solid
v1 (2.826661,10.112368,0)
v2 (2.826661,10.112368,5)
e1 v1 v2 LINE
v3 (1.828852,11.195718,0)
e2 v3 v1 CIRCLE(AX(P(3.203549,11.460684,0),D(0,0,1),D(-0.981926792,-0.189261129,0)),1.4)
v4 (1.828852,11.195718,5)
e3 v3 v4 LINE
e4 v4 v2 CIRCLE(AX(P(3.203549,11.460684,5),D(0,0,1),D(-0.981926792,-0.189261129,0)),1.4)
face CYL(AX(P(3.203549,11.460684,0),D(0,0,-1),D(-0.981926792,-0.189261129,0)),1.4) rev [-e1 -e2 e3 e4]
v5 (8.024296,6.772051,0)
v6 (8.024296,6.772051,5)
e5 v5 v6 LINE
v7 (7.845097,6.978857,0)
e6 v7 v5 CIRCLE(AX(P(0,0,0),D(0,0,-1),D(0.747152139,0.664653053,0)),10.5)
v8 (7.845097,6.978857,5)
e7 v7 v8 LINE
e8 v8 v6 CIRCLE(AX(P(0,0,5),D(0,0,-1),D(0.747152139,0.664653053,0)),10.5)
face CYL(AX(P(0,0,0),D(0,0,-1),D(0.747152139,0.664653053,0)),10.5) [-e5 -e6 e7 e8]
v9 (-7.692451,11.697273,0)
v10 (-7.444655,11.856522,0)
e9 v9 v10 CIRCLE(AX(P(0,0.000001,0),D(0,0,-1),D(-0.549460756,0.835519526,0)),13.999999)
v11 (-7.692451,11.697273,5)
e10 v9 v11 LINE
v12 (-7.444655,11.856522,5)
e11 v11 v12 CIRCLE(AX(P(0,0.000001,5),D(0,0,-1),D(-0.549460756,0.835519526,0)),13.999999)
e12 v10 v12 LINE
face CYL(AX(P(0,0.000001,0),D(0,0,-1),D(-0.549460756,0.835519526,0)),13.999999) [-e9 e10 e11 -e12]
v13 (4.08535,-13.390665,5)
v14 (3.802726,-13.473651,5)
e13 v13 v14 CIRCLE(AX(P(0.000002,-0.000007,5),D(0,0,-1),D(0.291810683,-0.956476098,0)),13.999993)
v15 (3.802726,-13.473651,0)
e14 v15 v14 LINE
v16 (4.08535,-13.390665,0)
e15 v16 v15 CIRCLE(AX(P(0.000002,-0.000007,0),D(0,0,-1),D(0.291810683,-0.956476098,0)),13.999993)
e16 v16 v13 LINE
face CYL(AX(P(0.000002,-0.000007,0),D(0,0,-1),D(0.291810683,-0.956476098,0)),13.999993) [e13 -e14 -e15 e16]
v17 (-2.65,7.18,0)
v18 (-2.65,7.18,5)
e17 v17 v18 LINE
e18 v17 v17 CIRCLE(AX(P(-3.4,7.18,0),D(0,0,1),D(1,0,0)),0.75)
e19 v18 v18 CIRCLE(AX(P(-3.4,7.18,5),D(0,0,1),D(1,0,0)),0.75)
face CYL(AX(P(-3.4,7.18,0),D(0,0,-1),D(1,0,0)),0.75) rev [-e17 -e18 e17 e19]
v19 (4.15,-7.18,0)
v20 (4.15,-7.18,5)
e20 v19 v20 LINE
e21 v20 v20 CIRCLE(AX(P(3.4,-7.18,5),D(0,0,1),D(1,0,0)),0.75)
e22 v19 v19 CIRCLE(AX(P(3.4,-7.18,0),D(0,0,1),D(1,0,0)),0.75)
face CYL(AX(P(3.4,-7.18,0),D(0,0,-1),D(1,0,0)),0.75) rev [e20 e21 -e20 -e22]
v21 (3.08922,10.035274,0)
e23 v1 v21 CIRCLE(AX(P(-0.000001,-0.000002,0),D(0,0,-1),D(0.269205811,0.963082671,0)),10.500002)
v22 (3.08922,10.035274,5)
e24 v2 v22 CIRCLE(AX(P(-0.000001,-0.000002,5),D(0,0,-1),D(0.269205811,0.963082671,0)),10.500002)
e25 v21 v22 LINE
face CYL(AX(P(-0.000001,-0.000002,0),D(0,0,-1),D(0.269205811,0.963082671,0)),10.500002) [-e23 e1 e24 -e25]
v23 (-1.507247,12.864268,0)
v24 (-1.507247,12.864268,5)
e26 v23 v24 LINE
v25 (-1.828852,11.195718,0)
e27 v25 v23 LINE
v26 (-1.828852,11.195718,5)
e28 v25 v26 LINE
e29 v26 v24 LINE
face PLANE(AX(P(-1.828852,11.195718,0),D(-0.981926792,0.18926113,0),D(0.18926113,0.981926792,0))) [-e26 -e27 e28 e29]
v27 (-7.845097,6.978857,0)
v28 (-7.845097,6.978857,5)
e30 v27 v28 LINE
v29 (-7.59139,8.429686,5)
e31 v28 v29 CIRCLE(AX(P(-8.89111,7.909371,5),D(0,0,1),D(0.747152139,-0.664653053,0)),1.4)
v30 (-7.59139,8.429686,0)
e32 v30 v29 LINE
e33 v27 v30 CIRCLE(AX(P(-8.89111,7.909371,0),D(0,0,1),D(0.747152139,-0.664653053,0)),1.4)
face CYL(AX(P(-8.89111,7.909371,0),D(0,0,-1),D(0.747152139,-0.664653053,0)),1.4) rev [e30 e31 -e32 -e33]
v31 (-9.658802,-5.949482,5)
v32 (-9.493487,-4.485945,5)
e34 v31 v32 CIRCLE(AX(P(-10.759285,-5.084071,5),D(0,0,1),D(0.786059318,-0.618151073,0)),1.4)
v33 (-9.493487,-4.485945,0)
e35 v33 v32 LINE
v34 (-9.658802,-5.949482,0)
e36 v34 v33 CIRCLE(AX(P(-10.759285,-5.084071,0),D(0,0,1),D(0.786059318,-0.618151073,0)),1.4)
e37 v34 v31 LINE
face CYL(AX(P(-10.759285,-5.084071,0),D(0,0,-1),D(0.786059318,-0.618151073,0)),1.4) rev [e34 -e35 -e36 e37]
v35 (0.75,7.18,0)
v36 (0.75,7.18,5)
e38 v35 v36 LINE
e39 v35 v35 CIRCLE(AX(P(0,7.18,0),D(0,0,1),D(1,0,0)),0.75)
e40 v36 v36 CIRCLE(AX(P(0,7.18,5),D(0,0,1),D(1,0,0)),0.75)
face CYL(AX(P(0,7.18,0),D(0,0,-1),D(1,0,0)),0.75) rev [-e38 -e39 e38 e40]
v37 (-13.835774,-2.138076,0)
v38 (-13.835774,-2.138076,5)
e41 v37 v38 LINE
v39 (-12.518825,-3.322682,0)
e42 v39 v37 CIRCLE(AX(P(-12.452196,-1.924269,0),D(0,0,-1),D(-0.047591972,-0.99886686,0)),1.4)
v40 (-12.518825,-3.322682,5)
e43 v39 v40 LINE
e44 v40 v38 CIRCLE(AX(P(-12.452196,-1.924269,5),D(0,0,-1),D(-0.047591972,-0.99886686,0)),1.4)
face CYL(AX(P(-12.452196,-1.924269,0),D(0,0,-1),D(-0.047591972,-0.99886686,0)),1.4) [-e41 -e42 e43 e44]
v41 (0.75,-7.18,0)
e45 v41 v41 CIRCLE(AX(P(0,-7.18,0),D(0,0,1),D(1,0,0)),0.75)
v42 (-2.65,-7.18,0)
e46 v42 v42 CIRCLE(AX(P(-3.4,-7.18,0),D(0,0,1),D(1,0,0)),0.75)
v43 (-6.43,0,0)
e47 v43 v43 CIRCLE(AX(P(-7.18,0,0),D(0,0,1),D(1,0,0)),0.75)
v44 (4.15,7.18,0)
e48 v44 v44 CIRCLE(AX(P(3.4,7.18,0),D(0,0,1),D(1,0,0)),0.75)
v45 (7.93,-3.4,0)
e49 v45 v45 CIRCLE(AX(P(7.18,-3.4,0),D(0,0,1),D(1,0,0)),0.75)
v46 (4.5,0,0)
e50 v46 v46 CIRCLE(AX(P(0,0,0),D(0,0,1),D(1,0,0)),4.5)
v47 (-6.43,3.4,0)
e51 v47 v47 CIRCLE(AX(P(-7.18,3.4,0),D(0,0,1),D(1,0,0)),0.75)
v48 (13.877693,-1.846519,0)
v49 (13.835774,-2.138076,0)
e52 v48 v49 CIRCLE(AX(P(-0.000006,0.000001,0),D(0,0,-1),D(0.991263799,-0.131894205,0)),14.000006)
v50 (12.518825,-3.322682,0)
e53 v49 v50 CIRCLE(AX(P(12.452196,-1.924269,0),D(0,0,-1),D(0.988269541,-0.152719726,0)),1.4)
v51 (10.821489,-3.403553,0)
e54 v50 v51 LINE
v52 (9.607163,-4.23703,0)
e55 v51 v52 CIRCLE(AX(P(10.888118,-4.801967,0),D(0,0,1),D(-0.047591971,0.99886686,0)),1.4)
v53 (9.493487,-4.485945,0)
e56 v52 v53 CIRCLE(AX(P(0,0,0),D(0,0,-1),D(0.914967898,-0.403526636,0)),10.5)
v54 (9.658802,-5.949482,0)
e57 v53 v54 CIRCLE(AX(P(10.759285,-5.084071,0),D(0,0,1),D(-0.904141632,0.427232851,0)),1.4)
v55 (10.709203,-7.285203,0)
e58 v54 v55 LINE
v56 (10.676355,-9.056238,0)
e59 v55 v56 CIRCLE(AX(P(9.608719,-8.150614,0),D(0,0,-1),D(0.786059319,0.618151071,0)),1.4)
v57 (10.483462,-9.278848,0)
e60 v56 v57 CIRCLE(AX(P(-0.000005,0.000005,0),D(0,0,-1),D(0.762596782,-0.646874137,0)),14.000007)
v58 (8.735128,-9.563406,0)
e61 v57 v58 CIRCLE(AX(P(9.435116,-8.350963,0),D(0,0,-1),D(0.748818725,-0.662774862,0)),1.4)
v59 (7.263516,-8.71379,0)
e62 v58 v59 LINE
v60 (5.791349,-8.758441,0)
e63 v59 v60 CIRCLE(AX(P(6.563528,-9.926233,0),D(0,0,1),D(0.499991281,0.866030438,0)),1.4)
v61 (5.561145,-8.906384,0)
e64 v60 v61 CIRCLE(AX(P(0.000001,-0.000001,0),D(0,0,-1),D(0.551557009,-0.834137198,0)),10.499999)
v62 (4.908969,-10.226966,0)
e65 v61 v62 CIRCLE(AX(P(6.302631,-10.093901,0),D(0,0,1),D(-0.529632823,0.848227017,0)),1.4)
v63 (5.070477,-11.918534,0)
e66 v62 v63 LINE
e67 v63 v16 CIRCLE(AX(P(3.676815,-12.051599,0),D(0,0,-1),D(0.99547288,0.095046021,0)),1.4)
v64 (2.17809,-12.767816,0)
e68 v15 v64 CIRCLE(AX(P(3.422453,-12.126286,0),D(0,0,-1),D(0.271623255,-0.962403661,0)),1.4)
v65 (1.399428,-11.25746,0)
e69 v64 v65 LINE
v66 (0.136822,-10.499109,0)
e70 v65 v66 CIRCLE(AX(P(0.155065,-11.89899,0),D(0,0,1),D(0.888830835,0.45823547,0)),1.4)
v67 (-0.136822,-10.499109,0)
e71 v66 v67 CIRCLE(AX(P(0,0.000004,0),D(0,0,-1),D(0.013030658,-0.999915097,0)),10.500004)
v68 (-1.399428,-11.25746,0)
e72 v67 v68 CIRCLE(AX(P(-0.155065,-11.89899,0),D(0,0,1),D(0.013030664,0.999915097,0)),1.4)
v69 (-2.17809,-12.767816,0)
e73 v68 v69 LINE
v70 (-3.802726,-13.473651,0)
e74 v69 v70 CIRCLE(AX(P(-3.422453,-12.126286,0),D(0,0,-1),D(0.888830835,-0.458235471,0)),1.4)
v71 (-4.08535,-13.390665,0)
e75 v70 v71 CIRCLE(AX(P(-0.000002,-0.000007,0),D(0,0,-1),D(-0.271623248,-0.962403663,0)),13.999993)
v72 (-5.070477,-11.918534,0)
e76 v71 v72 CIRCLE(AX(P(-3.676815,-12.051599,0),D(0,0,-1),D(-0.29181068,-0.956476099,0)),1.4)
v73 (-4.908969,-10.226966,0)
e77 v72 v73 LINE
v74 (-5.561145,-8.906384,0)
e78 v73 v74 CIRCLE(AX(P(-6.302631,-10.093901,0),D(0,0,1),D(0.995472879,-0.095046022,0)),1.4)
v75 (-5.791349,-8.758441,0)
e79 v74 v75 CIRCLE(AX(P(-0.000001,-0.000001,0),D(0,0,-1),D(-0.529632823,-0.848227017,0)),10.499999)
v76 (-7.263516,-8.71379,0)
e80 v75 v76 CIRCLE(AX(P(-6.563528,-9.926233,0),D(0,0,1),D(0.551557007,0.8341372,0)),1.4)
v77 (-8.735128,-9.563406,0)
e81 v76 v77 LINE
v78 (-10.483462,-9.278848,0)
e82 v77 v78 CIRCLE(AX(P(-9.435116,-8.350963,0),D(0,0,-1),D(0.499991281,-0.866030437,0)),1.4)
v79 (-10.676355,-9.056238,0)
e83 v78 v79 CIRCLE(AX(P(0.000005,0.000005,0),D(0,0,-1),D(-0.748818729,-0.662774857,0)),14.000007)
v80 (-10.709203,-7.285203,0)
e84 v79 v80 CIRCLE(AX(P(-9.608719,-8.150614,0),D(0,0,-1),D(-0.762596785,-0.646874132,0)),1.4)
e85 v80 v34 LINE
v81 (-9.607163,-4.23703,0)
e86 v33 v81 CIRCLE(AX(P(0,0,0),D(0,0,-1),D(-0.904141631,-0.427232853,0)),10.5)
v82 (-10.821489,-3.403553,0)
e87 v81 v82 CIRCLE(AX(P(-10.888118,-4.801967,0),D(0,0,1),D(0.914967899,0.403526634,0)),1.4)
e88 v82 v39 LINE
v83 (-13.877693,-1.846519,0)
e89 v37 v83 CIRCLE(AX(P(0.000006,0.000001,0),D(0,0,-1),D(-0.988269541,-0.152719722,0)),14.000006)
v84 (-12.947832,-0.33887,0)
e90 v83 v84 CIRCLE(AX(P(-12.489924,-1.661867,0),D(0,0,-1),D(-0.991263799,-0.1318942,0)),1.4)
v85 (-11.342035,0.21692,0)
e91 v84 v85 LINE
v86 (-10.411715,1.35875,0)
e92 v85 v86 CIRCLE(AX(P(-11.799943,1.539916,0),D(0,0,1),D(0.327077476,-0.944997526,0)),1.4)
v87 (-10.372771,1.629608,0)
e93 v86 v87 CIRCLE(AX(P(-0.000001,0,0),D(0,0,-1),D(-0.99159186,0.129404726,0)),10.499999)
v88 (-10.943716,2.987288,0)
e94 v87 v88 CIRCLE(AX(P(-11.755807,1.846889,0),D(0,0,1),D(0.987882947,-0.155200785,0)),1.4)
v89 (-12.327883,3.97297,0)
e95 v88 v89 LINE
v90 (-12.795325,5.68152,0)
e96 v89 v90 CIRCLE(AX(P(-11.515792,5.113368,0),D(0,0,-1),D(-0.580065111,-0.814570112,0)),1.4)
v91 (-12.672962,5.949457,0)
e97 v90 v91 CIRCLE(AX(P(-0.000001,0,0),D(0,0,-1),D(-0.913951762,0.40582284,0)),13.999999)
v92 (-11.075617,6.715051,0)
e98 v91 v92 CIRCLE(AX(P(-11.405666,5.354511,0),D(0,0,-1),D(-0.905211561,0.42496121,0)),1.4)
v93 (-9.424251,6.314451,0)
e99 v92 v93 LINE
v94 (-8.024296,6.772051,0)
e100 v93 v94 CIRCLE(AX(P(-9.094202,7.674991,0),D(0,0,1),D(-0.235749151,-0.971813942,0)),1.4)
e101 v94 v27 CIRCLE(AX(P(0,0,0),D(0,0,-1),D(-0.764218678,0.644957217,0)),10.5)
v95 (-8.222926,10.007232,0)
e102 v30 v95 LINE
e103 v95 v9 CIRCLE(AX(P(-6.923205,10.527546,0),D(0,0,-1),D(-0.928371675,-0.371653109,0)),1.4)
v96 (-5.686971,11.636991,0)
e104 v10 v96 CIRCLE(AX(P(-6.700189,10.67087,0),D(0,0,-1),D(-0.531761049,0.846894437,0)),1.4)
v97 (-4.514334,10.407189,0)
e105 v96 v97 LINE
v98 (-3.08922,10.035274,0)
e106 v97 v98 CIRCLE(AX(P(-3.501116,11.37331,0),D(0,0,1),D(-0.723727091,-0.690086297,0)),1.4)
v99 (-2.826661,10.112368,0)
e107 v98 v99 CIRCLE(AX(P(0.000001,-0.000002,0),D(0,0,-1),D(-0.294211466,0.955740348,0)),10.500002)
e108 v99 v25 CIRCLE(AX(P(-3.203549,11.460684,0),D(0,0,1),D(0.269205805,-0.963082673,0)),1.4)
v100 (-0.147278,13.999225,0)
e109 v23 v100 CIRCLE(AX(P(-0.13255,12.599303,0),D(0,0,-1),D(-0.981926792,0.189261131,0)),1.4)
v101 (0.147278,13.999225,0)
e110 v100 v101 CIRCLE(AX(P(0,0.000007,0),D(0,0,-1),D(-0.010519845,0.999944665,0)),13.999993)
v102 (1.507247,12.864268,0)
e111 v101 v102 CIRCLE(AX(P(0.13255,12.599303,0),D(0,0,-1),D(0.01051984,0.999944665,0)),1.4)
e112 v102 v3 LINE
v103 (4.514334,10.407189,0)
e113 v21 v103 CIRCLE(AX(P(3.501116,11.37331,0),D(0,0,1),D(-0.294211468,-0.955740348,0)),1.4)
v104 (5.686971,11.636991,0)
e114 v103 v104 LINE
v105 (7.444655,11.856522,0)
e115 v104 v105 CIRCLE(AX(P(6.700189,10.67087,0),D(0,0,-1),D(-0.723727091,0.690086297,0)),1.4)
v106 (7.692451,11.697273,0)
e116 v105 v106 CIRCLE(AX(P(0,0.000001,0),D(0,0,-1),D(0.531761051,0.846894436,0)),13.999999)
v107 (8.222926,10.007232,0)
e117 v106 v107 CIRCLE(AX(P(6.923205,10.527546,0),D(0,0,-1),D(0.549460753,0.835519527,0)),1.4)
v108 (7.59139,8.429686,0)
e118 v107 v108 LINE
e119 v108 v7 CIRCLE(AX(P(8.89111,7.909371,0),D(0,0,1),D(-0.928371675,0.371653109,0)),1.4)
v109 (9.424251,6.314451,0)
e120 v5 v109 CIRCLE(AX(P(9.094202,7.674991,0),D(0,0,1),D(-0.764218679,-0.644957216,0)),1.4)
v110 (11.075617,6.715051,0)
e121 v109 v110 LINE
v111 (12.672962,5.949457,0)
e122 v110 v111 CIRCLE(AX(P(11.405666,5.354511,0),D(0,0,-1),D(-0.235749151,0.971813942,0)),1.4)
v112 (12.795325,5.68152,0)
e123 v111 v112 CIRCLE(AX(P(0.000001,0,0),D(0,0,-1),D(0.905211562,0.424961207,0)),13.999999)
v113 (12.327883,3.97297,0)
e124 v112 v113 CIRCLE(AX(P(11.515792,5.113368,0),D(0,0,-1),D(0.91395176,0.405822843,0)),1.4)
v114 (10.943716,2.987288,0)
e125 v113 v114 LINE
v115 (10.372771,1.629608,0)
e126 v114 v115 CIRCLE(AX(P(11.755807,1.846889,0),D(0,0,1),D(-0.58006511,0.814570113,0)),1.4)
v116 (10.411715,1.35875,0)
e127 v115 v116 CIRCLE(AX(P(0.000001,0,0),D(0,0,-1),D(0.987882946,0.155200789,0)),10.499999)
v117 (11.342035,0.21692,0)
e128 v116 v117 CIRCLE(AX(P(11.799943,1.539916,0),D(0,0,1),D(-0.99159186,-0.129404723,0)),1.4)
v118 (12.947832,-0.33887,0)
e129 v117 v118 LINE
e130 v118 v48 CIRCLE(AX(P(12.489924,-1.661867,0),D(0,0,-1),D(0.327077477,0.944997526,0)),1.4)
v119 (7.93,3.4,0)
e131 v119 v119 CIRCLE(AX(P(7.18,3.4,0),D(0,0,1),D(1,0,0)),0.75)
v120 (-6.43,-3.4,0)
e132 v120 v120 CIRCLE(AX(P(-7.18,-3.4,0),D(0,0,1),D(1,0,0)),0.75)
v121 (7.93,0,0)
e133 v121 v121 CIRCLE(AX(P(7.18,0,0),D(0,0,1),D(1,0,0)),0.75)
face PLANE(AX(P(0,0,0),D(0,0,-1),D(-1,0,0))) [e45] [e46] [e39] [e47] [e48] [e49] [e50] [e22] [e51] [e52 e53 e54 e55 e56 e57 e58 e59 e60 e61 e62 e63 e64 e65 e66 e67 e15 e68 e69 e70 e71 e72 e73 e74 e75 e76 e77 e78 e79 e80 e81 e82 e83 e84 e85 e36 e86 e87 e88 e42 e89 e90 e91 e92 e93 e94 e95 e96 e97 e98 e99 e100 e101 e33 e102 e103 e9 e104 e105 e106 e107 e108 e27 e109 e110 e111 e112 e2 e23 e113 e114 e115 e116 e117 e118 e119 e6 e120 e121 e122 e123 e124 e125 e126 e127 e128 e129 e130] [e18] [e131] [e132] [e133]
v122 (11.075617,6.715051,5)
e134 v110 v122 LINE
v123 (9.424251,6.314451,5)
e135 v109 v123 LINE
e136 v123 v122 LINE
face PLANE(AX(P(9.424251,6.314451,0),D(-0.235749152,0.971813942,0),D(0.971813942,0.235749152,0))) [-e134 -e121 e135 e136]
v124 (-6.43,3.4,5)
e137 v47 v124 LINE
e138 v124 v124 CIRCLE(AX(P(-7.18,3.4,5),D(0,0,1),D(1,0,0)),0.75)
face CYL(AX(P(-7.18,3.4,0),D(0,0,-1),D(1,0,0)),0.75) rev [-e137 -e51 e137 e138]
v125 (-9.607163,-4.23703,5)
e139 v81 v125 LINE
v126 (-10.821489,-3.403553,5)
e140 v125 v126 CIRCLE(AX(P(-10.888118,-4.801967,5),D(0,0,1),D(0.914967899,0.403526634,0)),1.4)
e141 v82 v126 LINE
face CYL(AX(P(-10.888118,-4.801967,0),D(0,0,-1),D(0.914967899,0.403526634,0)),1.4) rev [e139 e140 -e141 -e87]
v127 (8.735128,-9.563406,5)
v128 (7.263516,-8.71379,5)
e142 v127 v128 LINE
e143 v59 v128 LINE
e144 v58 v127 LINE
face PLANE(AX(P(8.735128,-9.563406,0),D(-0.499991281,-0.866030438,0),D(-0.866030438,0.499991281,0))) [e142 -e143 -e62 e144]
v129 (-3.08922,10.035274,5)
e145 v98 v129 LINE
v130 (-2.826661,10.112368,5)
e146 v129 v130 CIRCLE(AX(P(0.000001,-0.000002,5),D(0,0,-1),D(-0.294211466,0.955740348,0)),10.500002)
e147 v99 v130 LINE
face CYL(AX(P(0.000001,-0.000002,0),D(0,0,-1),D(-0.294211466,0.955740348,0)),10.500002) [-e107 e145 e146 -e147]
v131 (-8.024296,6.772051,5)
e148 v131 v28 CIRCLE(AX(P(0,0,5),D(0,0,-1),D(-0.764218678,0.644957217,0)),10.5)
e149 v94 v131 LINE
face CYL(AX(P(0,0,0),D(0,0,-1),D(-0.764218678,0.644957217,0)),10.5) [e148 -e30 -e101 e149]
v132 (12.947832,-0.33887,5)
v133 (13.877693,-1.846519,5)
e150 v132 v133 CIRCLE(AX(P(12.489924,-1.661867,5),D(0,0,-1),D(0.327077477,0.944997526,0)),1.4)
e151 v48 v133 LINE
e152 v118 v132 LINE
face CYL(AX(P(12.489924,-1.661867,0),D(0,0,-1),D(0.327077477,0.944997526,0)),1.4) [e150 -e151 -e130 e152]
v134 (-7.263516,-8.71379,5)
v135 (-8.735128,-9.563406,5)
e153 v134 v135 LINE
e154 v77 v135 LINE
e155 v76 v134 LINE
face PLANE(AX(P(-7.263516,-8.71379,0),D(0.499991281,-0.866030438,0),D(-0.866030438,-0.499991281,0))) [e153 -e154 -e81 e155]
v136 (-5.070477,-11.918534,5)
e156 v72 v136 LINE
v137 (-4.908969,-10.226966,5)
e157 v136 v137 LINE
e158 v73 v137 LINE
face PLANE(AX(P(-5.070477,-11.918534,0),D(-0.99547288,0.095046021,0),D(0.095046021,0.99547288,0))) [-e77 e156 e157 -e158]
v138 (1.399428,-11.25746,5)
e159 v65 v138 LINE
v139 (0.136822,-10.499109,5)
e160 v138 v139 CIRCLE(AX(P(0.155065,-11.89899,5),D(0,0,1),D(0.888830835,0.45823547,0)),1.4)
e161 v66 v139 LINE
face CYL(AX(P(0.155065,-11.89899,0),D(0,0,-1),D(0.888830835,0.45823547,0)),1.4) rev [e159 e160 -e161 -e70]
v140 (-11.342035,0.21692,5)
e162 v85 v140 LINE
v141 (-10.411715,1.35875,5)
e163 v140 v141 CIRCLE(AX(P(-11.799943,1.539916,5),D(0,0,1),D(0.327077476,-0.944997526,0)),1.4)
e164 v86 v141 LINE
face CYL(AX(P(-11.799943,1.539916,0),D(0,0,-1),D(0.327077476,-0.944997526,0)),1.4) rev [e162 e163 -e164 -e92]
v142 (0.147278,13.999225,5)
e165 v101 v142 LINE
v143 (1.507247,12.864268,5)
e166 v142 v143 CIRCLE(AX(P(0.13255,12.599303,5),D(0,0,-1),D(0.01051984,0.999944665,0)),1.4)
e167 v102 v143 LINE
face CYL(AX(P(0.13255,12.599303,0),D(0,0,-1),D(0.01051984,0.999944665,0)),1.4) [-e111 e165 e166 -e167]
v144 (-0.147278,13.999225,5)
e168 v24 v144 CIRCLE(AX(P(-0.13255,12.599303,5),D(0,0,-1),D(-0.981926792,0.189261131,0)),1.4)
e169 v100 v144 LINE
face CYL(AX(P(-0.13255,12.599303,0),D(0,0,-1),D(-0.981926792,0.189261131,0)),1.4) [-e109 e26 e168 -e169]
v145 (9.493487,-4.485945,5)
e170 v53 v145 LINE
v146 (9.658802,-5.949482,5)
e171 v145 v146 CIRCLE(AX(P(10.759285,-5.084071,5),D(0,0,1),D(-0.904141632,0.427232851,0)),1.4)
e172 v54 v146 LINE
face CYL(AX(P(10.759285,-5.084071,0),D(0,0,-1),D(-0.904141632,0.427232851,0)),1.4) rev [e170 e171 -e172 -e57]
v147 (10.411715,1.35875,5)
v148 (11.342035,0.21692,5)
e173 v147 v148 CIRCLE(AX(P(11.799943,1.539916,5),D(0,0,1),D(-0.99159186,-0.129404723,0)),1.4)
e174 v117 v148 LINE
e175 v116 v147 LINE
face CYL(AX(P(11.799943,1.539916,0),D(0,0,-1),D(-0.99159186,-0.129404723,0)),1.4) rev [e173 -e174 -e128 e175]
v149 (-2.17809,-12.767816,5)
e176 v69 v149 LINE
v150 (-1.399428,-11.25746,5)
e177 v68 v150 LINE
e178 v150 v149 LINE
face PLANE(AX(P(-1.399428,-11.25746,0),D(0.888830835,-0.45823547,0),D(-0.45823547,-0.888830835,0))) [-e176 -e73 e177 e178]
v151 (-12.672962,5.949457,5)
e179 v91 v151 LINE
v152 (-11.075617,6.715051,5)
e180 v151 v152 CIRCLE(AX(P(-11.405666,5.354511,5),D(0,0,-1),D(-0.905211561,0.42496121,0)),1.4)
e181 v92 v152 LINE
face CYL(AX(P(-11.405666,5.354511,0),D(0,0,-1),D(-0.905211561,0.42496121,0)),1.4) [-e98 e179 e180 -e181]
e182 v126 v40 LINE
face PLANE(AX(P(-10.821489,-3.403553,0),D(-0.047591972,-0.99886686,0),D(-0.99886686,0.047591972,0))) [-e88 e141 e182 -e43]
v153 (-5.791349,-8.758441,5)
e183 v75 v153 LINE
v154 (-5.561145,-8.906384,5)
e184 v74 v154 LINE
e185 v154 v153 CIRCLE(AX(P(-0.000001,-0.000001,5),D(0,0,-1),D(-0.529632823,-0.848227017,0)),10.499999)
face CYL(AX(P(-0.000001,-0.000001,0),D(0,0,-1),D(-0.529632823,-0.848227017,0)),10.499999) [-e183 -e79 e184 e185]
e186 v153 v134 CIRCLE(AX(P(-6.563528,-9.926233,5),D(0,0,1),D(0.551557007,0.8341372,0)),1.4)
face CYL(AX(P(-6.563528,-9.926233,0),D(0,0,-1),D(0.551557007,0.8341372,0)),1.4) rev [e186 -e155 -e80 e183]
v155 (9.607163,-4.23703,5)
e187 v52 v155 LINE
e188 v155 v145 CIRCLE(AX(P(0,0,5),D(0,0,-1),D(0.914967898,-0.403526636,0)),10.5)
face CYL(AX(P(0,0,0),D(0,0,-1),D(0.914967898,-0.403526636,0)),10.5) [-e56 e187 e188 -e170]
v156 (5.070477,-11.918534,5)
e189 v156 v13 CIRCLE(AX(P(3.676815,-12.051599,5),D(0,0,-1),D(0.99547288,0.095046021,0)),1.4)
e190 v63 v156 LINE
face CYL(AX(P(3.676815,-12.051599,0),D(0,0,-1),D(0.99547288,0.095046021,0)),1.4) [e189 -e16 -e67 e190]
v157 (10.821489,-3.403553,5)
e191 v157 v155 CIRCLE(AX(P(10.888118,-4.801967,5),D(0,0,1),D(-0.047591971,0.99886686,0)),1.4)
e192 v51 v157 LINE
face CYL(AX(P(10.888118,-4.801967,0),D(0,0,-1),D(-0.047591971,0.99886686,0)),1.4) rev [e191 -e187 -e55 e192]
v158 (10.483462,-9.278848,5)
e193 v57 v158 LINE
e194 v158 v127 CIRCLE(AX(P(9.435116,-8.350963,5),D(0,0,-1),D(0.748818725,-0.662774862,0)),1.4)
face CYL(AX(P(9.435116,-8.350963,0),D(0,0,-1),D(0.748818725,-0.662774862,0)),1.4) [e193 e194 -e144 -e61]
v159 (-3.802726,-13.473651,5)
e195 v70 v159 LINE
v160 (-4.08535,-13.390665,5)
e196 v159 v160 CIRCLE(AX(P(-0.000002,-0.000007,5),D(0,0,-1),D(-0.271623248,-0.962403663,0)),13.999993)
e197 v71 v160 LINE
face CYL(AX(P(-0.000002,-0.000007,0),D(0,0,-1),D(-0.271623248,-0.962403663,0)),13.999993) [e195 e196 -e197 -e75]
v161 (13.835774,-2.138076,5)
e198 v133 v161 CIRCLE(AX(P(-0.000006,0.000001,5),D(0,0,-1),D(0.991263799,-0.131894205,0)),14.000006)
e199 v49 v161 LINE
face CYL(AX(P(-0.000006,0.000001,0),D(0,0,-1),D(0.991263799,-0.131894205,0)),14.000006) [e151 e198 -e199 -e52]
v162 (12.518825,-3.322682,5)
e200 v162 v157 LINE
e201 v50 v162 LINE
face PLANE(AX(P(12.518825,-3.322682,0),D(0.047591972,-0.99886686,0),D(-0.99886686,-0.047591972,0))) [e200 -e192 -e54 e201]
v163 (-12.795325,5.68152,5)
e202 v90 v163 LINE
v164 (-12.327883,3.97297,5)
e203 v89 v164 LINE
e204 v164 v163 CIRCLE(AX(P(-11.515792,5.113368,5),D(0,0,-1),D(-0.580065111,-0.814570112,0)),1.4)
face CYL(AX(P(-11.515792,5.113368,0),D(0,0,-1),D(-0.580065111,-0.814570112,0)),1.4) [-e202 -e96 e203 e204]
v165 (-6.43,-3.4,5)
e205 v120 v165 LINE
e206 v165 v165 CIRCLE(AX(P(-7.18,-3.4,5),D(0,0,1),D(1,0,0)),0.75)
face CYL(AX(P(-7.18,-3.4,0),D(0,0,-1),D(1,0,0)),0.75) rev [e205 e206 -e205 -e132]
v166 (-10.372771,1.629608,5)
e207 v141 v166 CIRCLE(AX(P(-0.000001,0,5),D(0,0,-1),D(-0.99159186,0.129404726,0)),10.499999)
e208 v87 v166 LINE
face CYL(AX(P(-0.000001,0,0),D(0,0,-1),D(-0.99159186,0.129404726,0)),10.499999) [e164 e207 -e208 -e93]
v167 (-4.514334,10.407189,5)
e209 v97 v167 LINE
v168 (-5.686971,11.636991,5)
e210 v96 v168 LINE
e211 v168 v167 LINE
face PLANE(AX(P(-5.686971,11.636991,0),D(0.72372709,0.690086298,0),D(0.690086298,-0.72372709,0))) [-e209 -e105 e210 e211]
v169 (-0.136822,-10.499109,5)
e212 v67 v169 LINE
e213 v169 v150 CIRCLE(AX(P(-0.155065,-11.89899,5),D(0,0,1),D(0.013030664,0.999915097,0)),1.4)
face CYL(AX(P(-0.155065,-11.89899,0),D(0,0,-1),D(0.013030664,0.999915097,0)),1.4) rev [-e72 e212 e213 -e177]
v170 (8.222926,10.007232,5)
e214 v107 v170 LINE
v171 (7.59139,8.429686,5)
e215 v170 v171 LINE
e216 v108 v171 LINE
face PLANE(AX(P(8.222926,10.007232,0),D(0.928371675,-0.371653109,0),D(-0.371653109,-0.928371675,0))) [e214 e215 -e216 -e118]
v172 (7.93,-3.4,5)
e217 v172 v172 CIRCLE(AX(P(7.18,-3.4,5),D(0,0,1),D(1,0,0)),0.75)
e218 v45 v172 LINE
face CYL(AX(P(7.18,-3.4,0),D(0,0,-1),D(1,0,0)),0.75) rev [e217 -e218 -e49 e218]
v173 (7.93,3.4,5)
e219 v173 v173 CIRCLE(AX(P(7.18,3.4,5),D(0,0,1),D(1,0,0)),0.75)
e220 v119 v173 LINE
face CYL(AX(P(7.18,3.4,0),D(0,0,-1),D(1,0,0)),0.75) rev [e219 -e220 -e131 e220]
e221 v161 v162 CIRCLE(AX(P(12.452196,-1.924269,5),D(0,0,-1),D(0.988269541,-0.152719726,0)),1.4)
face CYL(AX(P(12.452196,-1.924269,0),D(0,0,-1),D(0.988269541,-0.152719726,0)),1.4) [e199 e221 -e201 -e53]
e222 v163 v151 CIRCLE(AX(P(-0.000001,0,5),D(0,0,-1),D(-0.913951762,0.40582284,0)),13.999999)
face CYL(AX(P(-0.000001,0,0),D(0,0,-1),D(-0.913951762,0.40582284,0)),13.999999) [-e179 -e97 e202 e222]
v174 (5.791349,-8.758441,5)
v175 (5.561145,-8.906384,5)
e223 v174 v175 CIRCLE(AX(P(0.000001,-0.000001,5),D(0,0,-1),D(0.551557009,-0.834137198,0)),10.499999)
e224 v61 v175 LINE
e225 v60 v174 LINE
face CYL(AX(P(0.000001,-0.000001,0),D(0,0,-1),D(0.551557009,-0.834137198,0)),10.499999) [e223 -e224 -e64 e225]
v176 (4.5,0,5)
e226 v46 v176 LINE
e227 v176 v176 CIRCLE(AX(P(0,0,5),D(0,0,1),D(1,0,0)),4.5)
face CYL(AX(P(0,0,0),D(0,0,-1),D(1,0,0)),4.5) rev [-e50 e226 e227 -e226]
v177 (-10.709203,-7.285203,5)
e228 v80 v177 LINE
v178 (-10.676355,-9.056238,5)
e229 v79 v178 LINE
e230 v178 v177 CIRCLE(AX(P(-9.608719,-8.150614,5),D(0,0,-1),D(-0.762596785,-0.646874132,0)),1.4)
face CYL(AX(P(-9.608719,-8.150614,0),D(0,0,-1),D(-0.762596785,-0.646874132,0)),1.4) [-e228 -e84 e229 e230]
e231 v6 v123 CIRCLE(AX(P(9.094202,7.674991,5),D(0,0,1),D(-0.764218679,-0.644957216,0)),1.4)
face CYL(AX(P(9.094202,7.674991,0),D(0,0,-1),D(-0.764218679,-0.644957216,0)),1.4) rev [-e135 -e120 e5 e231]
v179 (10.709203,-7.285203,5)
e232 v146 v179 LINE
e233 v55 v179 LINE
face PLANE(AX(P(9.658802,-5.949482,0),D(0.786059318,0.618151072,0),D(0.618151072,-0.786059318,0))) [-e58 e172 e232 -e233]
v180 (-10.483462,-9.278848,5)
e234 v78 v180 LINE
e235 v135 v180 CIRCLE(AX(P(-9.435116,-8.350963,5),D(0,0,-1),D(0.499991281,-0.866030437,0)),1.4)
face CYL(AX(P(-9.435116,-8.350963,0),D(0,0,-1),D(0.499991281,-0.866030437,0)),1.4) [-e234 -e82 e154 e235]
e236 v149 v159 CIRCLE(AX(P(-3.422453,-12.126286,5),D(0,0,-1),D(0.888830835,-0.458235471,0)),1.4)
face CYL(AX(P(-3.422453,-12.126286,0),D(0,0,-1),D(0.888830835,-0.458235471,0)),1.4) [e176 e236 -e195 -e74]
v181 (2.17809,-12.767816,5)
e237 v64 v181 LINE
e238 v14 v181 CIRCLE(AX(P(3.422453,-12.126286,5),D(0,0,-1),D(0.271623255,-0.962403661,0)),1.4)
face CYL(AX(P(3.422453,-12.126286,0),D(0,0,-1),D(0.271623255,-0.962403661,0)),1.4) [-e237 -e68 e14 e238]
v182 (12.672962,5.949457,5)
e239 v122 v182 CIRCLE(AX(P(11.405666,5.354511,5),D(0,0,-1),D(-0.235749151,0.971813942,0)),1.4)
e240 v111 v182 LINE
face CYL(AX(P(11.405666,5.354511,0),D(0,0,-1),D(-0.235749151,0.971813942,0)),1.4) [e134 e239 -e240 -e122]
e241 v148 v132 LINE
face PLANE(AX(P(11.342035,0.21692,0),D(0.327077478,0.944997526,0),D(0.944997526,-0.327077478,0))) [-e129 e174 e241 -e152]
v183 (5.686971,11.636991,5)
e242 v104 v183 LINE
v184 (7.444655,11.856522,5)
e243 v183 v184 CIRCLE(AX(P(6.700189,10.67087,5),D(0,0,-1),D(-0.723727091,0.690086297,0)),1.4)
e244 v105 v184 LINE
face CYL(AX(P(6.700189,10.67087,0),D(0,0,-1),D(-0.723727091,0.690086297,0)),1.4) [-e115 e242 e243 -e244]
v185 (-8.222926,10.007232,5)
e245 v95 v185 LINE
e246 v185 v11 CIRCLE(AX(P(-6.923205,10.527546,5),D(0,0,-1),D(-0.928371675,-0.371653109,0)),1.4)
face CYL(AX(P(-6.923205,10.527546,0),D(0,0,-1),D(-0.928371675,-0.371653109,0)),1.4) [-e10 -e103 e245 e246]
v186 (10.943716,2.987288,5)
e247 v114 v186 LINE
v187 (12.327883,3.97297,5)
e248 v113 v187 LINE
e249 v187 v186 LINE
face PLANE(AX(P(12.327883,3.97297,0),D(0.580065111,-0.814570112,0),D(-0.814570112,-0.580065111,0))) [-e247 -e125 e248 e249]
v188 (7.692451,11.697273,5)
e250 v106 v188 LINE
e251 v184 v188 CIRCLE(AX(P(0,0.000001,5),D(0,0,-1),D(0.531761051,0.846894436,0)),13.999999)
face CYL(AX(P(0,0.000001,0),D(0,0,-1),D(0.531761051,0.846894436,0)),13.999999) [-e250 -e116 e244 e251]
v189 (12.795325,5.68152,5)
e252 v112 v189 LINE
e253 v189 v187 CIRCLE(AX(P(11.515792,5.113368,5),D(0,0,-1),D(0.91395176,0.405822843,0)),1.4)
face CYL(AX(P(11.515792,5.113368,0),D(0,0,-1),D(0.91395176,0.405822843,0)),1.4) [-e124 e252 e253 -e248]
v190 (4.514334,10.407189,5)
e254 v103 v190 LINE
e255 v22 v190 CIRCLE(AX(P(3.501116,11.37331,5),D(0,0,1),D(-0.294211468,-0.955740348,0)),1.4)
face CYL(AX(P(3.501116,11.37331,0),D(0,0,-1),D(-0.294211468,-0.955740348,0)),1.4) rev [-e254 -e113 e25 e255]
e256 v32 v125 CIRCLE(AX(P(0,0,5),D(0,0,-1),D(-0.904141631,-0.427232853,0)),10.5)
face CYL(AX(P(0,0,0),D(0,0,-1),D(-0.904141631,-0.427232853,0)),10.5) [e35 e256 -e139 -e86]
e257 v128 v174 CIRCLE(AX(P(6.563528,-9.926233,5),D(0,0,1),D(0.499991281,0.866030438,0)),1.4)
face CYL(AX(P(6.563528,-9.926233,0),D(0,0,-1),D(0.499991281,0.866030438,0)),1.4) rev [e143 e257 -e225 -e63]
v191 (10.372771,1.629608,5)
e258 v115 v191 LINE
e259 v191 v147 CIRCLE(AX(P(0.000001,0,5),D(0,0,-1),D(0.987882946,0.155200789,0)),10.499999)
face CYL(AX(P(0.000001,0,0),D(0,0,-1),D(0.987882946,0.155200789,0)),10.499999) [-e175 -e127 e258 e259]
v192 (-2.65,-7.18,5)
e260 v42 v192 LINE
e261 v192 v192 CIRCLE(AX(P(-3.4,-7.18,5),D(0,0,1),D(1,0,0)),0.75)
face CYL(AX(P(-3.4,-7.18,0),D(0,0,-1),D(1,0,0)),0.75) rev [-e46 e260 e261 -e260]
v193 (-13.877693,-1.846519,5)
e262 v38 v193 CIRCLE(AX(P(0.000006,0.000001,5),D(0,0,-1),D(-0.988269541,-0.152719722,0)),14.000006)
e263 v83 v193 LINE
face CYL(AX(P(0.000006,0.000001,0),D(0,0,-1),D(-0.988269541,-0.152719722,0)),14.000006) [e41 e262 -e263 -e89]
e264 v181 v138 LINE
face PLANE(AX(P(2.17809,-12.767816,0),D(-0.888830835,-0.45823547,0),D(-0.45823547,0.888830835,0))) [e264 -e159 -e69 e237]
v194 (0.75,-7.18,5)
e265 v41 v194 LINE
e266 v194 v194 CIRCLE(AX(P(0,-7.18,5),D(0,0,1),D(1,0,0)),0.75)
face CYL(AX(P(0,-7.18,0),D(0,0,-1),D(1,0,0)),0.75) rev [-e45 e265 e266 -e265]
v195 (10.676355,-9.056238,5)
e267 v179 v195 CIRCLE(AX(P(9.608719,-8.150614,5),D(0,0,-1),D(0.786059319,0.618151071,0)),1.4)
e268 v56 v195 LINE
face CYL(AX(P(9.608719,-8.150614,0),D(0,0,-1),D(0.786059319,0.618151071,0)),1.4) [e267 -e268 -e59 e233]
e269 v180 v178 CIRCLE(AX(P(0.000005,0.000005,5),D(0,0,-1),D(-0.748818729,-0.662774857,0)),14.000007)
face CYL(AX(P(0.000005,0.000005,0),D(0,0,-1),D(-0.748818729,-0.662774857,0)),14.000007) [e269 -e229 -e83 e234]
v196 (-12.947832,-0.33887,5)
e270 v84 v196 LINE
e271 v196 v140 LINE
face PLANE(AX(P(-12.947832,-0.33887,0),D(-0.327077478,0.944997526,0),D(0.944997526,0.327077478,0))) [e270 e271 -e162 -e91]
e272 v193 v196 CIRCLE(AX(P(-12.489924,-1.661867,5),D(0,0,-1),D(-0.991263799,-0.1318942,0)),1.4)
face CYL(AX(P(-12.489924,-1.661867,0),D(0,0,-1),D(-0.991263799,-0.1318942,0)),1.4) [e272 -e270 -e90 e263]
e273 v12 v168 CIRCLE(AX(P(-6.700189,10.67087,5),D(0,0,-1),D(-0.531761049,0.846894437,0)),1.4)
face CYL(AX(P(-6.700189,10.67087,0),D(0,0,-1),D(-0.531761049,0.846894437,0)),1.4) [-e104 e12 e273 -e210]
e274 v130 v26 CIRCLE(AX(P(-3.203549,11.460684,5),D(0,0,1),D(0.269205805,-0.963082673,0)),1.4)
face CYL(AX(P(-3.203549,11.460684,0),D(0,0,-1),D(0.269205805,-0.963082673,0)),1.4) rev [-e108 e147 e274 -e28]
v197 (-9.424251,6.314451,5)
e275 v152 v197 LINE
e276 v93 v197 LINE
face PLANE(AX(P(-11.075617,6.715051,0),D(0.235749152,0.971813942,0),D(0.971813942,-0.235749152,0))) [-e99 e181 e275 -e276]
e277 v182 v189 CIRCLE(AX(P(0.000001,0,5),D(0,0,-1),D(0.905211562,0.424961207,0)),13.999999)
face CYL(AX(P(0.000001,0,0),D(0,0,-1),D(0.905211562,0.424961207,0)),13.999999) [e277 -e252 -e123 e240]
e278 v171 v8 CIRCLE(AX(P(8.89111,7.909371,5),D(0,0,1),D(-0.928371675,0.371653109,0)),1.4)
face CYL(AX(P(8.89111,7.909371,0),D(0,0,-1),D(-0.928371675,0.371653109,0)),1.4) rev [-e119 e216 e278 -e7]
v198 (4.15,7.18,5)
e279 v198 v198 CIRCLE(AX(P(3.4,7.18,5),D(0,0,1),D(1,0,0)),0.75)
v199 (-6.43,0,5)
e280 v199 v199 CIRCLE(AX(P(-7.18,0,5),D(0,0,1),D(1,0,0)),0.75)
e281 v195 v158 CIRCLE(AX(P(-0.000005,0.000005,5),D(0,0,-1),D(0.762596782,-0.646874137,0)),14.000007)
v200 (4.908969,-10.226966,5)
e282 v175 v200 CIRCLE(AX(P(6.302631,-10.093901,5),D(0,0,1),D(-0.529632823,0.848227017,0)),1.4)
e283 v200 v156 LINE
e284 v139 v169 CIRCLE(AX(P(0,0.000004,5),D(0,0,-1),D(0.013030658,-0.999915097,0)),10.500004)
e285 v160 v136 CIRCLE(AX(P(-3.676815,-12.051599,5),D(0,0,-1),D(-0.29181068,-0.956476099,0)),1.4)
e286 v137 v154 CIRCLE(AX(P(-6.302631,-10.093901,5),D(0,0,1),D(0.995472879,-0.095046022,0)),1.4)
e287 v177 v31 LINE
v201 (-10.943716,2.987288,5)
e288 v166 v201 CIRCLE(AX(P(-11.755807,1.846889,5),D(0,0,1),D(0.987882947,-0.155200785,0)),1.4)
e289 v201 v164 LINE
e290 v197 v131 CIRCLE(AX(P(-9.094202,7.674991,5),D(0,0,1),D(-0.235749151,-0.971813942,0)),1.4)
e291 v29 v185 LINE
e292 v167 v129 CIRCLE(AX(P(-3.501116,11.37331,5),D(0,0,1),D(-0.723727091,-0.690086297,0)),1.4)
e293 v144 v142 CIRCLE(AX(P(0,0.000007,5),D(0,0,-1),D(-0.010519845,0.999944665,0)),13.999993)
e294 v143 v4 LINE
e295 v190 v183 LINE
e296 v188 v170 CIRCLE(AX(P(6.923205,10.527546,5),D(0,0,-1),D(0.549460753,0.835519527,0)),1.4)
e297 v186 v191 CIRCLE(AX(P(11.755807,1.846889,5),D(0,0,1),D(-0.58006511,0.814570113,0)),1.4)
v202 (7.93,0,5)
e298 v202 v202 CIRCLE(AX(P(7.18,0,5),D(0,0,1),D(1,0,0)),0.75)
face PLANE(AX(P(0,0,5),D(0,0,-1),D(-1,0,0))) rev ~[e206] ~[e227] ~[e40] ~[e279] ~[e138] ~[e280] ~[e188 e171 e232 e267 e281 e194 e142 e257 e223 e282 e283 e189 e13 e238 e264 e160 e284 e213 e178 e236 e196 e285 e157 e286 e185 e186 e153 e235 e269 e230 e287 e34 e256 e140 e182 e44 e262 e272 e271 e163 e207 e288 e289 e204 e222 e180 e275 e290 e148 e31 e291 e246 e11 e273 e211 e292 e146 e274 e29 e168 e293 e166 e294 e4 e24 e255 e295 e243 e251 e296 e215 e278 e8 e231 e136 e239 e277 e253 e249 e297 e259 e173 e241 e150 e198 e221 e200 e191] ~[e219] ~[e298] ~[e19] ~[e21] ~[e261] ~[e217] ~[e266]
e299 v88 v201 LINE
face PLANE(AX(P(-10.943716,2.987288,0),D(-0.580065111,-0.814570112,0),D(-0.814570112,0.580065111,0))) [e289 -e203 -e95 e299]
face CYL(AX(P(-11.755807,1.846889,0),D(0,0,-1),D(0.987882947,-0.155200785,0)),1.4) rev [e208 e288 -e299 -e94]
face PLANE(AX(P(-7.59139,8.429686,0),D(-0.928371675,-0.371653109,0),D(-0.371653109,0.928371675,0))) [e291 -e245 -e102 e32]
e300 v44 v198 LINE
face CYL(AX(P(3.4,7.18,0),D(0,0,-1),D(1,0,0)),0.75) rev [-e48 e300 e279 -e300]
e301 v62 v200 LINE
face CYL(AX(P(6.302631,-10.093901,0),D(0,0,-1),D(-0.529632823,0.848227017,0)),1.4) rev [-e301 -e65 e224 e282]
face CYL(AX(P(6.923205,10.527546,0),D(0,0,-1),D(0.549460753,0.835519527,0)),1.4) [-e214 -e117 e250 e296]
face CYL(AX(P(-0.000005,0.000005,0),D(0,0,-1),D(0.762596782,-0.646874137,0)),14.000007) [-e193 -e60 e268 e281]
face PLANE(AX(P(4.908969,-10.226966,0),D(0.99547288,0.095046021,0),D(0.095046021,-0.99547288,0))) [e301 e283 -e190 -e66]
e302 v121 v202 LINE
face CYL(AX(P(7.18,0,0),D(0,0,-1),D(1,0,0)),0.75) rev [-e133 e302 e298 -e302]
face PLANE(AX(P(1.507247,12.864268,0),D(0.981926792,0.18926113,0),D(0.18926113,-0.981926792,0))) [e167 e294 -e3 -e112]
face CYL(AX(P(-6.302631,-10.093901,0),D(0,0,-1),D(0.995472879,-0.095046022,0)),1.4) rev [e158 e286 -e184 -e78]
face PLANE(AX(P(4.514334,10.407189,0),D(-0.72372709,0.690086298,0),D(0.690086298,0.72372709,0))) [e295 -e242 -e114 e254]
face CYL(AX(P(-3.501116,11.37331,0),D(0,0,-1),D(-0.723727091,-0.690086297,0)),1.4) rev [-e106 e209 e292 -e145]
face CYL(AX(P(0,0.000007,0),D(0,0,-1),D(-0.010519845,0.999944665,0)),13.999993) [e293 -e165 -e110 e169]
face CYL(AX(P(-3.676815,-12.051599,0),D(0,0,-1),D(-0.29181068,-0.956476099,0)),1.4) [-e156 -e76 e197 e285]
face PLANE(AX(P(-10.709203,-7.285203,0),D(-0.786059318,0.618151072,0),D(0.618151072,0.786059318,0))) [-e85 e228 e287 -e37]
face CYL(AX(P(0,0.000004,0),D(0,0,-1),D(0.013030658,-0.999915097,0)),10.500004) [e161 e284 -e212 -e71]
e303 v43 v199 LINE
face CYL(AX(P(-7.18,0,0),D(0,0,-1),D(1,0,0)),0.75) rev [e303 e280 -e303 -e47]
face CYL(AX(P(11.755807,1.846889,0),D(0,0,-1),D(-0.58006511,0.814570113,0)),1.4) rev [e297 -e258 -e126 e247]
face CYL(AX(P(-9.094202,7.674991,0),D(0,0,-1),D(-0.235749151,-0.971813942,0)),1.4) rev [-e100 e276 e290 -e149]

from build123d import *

# Parameters (mm, degrees)
ESBO_O1_R                = 4.5
ESBO_O1_R_2              = 0.75
RESSALTO_EXTRUS_O1_DEPTH = 5


with BuildPart() as part:
    # Esboço1 → Ressalto-extrusão1 (new body)
    with BuildSketch(Plane.XY):
        with BuildLine():
            Line((4.514334386, 10.407189323), (5.686971288, 11.63699072))
            ThreePointArc((5.686971288, 11.63699072), (6.526679908, 12.060076339), (7.444654683, 11.856522115))
            ThreePointArc((7.444654683, 11.856522115), (7.568971444, 11.77754946), (7.692450547, 11.697273382))
            ThreePointArc((7.692450547, 11.697273382), (8.258950485, 10.946813637), (8.222925837, 10.007231691))
            Line((8.222925837, 10.007231691), (7.591390112, 8.429685683))
            ThreePointArc((7.591390112, 8.429685683), (7.512037525, 7.668211946), (7.845097462, 6.978857056))
            ThreePointArc((7.845097462, 6.978857056), (7.935370531, 6.876037706), (8.024296131, 6.772050768))
            ThreePointArc((8.024296131, 6.772050768), (8.65923501, 6.344275472), (9.424251093, 6.314451352))
            Line((9.424251093, 6.314451352), (11.075616863, 6.715050749))
            ThreePointArc((11.075616863, 6.715050749), (12.010762061, 6.616992265), (12.672961861, 5.949456923))
            ThreePointArc((12.672961861, 5.949456923), (12.734847935, 5.815810182), (12.795324642, 5.681519805))
            ThreePointArc((12.795324642, 5.681519805), (12.866165546, 4.743919904), (12.327883333, 3.972969668))
            Line((12.327883333, 3.972969668), (10.94371591, 2.987287505))
            ThreePointArc((10.94371591, 2.987287505), (10.465276482, 2.389596282), (10.372770939, 1.629608249))
            ThreePointArc((10.372770939, 1.629608249), (10.39312514, 1.494305802), (10.411714532, 1.358749614))
            ThreePointArc((10.411714532, 1.358749614), (10.714586321, 0.655608259), (11.342034667, 0.216919693))
            Line((11.342034667, 0.216919693), (12.94783234, -0.338870389))
            ThreePointArc((12.94783234, -0.338870389), (13.681512123, -0.926940099), (13.877693191, -1.846518805))
            ThreePointArc((13.877693191, -1.846518805), (13.857500186, -1.992407736), (13.835773571, -2.138076166))
            ThreePointArc((13.835773571, -2.138076166), (13.388463955, -2.96513488), (12.518824975, -3.322682154))
            Line((12.518824975, -3.322682154), (10.82148923, -3.403553348))
            ThreePointArc((10.82148923, -3.403553348), (10.095864099, -3.647699318), (9.607162934, -4.237029663))
            ThreePointArc((9.607162934, -4.237029663), (9.551135951, -4.361857637), (9.493487134, -4.485944943))
            ThreePointArc((9.493487134, -4.485944943), (9.368132181, -5.241209943), (9.658802374, -5.949482436))
            Line((9.658802374, -5.949482436), (10.709202535, -7.285202572))
            ThreePointArc((10.709202535, -7.285202572), (11.008478755, -8.176575531), (10.676354988, -9.05623786))
            ThreePointArc((10.676354988, -9.05623786), (10.580494041, -9.168050275), (10.48346215, -9.278848062))
            ThreePointArc((10.48346215, -9.278848062), (9.660019656, -9.73278029), (8.735128141, -9.563405868))
            Line((8.735128141, -9.563405868), (7.263516181, -8.713790062))
            ThreePointArc((7.263516181, -8.713790062), (6.521086199, -8.526876158), (5.791348577, -8.758440595))
            ThreePointArc((5.791348577, -8.758440595), (5.676728583, -8.833162095), (5.56114465, -8.906383676))
            ThreePointArc((5.56114465, -8.906383676), (5.047362265, -9.473981021), (4.908968572, -10.226965929))
            Line((4.908968572, -10.226965929), (5.070476592, -11.918534414))
            ThreePointArc((5.070476592, -11.918534414), (4.840331165, -12.830206005), (4.085349512, -13.390665382))
            ThreePointArc((4.085349512, -13.390665382), (3.944255796, -13.432901631), (3.802725568, -13.473651259))
            ThreePointArc((3.802725568, -13.473651259), (2.864587371, -13.410336727), (2.178089842, -12.767815792))
            Line((2.178089842, -12.767815792), (1.399428066, -11.257459999))
            ThreePointArc((1.399428066, -11.257459999), (0.875909507, -10.698830065), (0.136821968, -10.499108522))
            ThreePointArc((0.136821968, -10.499108522), (0, -10.5), (-0.136821968, -10.499108522))
            ThreePointArc((-0.136821968, -10.499108522), (-0.875909507, -10.698830065), (-1.399428066, -11.257459999))
            Line((-1.399428066, -11.257459999), (-2.178089842, -12.767815792))
            ThreePointArc((-2.178089842, -12.767815792), (-2.864587371, -13.410336727), (-3.802725568, -13.473651259))
            ThreePointArc((-3.802725568, -13.473651259), (-3.944255796, -13.432901631), (-4.085349512, -13.390665382))
            ThreePointArc((-4.085349512, -13.390665382), (-4.840331165, -12.830206005), (-5.070476592, -11.918534414))
            Line((-5.070476592, -11.918534414), (-4.908968572, -10.226965929))
            ThreePointArc((-4.908968572, -10.226965929), (-5.047362265, -9.473981021), (-5.56114465, -8.906383676))
            ThreePointArc((-5.56114465, -8.906383676), (-5.676728583, -8.833162095), (-5.791348577, -8.758440595))
            ThreePointArc((-5.791348577, -8.758440595), (-6.521086199, -8.526876158), (-7.263516181, -8.713790062))
            Line((-7.263516181, -8.713790062), (-8.735128141, -9.563405868))
            ThreePointArc((-8.735128141, -9.563405868), (-9.660019656, -9.73278029), (-10.48346215, -9.278848062))
            ThreePointArc((-10.48346215, -9.278848062), (-10.580494041, -9.168050275), (-10.676354988, -9.05623786))
            ThreePointArc((-10.676354988, -9.05623786), (-11.008478755, -8.176575531), (-10.709202535, -7.285202572))
            Line((-10.709202535, -7.285202572), (-9.658802374, -5.949482436))
            ThreePointArc((-9.658802374, -5.949482436), (-9.368132181, -5.241209943), (-9.493487134, -4.485944943))
            ThreePointArc((-9.493487134, -4.485944943), (-9.551135951, -4.361857637), (-9.607162934, -4.237029663))
            ThreePointArc((-9.607162934, -4.237029663), (-10.095864099, -3.647699318), (-10.82148923, -3.403553348))
            Line((-10.82148923, -3.403553348), (-12.518824975, -3.322682154))
            ThreePointArc((-12.518824975, -3.322682154), (-13.388463955, -2.96513488), (-13.835773571, -2.138076166))
            ThreePointArc((-13.835773571, -2.138076166), (-13.857500186, -1.992407736), (-13.877693191, -1.846518805))
            ThreePointArc((-13.877693191, -1.846518805), (-13.681512123, -0.926940099), (-12.94783234, -0.338870389))
            Line((-12.94783234, -0.338870389), (-11.342034667, 0.216919693))
            ThreePointArc((-11.342034667, 0.216919693), (-10.714586321, 0.655608259), (-10.411714532, 1.358749614))
            ThreePointArc((-10.411714532, 1.358749614), (-10.39312514, 1.494305802), (-10.372770939, 1.629608249))
            ThreePointArc((-10.372770939, 1.629608249), (-10.465276482, 2.389596282), (-10.94371591, 2.987287505))
            Line((-10.94371591, 2.987287505), (-12.327883333, 3.972969668))
            ThreePointArc((-12.327883333, 3.972969668), (-12.866165546, 4.743919904), (-12.795324642, 5.681519805))
            ThreePointArc((-12.795324642, 5.681519805), (-12.734847935, 5.815810182), (-12.672961861, 5.949456923))
            ThreePointArc((-12.672961861, 5.949456923), (-12.010762061, 6.616992265), (-11.075616863, 6.715050749))
            Line((-11.075616863, 6.715050749), (-9.424251093, 6.314451352))
            ThreePointArc((-9.424251093, 6.314451352), (-8.65923501, 6.344275472), (-8.024296131, 6.772050768))
            ThreePointArc((-8.024296131, 6.772050768), (-7.935370531, 6.876037706), (-7.845097462, 6.978857056))
            ThreePointArc((-7.845097462, 6.978857056), (-7.512037525, 7.668211946), (-7.591390112, 8.429685683))
            Line((-7.591390112, 8.429685683), (-8.222925837, 10.007231691))
            ThreePointArc((-8.222925837, 10.007231691), (-8.258950485, 10.946813637), (-7.692450547, 11.697273382))
            ThreePointArc((-7.692450547, 11.697273382), (-7.568971444, 11.77754946), (-7.444654683, 11.856522115))
            ThreePointArc((-7.444654683, 11.856522115), (-6.526679908, 12.060076339), (-5.686971288, 11.63699072))
            Line((-5.686971288, 11.63699072), (-4.514334386, 10.407189323))
            ThreePointArc((-4.514334386, 10.407189323), (-3.854637767, 10.018680048), (-3.089220405, 10.035273653))
            ThreePointArc((-3.089220405, 10.035273653), (-2.958191847, 10.074676223), (-2.826660972, 10.112368059))
            ThreePointArc((-2.826660972, 10.112368059), (-2.173779732, 10.512224498), (-1.828851593, 11.195718217))
            Line((-1.828851593, 11.195718217), (-1.507247489, 12.864268361))
            ThreePointArc((-1.507247489, 12.864268361), (-1.029577, 13.674171387), (-0.147277756, 13.999225309))
            ThreePointArc((-0.147277756, 13.999225309), (0, 14), (0.147277756, 13.999225309))
            ThreePointArc((0.147277756, 13.999225309), (1.029577, 13.674171387), (1.507247489, 12.864268361))
            Line((1.507247489, 12.864268361), (1.828851593, 11.195718217))
            ThreePointArc((1.828851593, 11.195718217), (2.173779732, 10.512224498), (2.826660972, 10.112368059))
            ThreePointArc((2.826660972, 10.112368059), (2.958191847, 10.074676223), (3.089220405, 10.035273653))
            ThreePointArc((3.089220405, 10.035273653), (3.854637767, 10.018680048), (4.514334386, 10.407189323))
        make_face()
        Circle(ESBO_O1_R, mode=Mode.SUBTRACT)
        with Locations((3.4, 7.18)):
            Circle(ESBO_O1_R_2, mode=Mode.SUBTRACT)
        with Locations((0, 7.18)):
            Circle(ESBO_O1_R_2, mode=Mode.SUBTRACT)
        with Locations((-3.4, 7.18)):
            Circle(ESBO_O1_R_2, mode=Mode.SUBTRACT)
        with Locations((7.18, -3.4)):
            Circle(ESBO_O1_R_2, mode=Mode.SUBTRACT)
        with Locations((7.18, 0)):
            Circle(ESBO_O1_R_2, mode=Mode.SUBTRACT)
        with Locations((7.18, 3.4)):
            Circle(ESBO_O1_R_2, mode=Mode.SUBTRACT)
        with Locations((-3.4, -7.18)):
            Circle(ESBO_O1_R_2, mode=Mode.SUBTRACT)
        with Locations((0, -7.18)):
            Circle(ESBO_O1_R_2, mode=Mode.SUBTRACT)
        with Locations((3.4, -7.18)):
            Circle(ESBO_O1_R_2, mode=Mode.SUBTRACT)
        with Locations((-7.18, 3.4)):
            Circle(ESBO_O1_R_2, mode=Mode.SUBTRACT)
        with Locations((-7.18, 0)):
            Circle(ESBO_O1_R_2, mode=Mode.SUBTRACT)
        with Locations((-7.18, -3.4)):
            Circle(ESBO_O1_R_2, mode=Mode.SUBTRACT)
    extrude(amount=RESSALTO_EXTRUS_O1_DEPTH)


solid = part.part
